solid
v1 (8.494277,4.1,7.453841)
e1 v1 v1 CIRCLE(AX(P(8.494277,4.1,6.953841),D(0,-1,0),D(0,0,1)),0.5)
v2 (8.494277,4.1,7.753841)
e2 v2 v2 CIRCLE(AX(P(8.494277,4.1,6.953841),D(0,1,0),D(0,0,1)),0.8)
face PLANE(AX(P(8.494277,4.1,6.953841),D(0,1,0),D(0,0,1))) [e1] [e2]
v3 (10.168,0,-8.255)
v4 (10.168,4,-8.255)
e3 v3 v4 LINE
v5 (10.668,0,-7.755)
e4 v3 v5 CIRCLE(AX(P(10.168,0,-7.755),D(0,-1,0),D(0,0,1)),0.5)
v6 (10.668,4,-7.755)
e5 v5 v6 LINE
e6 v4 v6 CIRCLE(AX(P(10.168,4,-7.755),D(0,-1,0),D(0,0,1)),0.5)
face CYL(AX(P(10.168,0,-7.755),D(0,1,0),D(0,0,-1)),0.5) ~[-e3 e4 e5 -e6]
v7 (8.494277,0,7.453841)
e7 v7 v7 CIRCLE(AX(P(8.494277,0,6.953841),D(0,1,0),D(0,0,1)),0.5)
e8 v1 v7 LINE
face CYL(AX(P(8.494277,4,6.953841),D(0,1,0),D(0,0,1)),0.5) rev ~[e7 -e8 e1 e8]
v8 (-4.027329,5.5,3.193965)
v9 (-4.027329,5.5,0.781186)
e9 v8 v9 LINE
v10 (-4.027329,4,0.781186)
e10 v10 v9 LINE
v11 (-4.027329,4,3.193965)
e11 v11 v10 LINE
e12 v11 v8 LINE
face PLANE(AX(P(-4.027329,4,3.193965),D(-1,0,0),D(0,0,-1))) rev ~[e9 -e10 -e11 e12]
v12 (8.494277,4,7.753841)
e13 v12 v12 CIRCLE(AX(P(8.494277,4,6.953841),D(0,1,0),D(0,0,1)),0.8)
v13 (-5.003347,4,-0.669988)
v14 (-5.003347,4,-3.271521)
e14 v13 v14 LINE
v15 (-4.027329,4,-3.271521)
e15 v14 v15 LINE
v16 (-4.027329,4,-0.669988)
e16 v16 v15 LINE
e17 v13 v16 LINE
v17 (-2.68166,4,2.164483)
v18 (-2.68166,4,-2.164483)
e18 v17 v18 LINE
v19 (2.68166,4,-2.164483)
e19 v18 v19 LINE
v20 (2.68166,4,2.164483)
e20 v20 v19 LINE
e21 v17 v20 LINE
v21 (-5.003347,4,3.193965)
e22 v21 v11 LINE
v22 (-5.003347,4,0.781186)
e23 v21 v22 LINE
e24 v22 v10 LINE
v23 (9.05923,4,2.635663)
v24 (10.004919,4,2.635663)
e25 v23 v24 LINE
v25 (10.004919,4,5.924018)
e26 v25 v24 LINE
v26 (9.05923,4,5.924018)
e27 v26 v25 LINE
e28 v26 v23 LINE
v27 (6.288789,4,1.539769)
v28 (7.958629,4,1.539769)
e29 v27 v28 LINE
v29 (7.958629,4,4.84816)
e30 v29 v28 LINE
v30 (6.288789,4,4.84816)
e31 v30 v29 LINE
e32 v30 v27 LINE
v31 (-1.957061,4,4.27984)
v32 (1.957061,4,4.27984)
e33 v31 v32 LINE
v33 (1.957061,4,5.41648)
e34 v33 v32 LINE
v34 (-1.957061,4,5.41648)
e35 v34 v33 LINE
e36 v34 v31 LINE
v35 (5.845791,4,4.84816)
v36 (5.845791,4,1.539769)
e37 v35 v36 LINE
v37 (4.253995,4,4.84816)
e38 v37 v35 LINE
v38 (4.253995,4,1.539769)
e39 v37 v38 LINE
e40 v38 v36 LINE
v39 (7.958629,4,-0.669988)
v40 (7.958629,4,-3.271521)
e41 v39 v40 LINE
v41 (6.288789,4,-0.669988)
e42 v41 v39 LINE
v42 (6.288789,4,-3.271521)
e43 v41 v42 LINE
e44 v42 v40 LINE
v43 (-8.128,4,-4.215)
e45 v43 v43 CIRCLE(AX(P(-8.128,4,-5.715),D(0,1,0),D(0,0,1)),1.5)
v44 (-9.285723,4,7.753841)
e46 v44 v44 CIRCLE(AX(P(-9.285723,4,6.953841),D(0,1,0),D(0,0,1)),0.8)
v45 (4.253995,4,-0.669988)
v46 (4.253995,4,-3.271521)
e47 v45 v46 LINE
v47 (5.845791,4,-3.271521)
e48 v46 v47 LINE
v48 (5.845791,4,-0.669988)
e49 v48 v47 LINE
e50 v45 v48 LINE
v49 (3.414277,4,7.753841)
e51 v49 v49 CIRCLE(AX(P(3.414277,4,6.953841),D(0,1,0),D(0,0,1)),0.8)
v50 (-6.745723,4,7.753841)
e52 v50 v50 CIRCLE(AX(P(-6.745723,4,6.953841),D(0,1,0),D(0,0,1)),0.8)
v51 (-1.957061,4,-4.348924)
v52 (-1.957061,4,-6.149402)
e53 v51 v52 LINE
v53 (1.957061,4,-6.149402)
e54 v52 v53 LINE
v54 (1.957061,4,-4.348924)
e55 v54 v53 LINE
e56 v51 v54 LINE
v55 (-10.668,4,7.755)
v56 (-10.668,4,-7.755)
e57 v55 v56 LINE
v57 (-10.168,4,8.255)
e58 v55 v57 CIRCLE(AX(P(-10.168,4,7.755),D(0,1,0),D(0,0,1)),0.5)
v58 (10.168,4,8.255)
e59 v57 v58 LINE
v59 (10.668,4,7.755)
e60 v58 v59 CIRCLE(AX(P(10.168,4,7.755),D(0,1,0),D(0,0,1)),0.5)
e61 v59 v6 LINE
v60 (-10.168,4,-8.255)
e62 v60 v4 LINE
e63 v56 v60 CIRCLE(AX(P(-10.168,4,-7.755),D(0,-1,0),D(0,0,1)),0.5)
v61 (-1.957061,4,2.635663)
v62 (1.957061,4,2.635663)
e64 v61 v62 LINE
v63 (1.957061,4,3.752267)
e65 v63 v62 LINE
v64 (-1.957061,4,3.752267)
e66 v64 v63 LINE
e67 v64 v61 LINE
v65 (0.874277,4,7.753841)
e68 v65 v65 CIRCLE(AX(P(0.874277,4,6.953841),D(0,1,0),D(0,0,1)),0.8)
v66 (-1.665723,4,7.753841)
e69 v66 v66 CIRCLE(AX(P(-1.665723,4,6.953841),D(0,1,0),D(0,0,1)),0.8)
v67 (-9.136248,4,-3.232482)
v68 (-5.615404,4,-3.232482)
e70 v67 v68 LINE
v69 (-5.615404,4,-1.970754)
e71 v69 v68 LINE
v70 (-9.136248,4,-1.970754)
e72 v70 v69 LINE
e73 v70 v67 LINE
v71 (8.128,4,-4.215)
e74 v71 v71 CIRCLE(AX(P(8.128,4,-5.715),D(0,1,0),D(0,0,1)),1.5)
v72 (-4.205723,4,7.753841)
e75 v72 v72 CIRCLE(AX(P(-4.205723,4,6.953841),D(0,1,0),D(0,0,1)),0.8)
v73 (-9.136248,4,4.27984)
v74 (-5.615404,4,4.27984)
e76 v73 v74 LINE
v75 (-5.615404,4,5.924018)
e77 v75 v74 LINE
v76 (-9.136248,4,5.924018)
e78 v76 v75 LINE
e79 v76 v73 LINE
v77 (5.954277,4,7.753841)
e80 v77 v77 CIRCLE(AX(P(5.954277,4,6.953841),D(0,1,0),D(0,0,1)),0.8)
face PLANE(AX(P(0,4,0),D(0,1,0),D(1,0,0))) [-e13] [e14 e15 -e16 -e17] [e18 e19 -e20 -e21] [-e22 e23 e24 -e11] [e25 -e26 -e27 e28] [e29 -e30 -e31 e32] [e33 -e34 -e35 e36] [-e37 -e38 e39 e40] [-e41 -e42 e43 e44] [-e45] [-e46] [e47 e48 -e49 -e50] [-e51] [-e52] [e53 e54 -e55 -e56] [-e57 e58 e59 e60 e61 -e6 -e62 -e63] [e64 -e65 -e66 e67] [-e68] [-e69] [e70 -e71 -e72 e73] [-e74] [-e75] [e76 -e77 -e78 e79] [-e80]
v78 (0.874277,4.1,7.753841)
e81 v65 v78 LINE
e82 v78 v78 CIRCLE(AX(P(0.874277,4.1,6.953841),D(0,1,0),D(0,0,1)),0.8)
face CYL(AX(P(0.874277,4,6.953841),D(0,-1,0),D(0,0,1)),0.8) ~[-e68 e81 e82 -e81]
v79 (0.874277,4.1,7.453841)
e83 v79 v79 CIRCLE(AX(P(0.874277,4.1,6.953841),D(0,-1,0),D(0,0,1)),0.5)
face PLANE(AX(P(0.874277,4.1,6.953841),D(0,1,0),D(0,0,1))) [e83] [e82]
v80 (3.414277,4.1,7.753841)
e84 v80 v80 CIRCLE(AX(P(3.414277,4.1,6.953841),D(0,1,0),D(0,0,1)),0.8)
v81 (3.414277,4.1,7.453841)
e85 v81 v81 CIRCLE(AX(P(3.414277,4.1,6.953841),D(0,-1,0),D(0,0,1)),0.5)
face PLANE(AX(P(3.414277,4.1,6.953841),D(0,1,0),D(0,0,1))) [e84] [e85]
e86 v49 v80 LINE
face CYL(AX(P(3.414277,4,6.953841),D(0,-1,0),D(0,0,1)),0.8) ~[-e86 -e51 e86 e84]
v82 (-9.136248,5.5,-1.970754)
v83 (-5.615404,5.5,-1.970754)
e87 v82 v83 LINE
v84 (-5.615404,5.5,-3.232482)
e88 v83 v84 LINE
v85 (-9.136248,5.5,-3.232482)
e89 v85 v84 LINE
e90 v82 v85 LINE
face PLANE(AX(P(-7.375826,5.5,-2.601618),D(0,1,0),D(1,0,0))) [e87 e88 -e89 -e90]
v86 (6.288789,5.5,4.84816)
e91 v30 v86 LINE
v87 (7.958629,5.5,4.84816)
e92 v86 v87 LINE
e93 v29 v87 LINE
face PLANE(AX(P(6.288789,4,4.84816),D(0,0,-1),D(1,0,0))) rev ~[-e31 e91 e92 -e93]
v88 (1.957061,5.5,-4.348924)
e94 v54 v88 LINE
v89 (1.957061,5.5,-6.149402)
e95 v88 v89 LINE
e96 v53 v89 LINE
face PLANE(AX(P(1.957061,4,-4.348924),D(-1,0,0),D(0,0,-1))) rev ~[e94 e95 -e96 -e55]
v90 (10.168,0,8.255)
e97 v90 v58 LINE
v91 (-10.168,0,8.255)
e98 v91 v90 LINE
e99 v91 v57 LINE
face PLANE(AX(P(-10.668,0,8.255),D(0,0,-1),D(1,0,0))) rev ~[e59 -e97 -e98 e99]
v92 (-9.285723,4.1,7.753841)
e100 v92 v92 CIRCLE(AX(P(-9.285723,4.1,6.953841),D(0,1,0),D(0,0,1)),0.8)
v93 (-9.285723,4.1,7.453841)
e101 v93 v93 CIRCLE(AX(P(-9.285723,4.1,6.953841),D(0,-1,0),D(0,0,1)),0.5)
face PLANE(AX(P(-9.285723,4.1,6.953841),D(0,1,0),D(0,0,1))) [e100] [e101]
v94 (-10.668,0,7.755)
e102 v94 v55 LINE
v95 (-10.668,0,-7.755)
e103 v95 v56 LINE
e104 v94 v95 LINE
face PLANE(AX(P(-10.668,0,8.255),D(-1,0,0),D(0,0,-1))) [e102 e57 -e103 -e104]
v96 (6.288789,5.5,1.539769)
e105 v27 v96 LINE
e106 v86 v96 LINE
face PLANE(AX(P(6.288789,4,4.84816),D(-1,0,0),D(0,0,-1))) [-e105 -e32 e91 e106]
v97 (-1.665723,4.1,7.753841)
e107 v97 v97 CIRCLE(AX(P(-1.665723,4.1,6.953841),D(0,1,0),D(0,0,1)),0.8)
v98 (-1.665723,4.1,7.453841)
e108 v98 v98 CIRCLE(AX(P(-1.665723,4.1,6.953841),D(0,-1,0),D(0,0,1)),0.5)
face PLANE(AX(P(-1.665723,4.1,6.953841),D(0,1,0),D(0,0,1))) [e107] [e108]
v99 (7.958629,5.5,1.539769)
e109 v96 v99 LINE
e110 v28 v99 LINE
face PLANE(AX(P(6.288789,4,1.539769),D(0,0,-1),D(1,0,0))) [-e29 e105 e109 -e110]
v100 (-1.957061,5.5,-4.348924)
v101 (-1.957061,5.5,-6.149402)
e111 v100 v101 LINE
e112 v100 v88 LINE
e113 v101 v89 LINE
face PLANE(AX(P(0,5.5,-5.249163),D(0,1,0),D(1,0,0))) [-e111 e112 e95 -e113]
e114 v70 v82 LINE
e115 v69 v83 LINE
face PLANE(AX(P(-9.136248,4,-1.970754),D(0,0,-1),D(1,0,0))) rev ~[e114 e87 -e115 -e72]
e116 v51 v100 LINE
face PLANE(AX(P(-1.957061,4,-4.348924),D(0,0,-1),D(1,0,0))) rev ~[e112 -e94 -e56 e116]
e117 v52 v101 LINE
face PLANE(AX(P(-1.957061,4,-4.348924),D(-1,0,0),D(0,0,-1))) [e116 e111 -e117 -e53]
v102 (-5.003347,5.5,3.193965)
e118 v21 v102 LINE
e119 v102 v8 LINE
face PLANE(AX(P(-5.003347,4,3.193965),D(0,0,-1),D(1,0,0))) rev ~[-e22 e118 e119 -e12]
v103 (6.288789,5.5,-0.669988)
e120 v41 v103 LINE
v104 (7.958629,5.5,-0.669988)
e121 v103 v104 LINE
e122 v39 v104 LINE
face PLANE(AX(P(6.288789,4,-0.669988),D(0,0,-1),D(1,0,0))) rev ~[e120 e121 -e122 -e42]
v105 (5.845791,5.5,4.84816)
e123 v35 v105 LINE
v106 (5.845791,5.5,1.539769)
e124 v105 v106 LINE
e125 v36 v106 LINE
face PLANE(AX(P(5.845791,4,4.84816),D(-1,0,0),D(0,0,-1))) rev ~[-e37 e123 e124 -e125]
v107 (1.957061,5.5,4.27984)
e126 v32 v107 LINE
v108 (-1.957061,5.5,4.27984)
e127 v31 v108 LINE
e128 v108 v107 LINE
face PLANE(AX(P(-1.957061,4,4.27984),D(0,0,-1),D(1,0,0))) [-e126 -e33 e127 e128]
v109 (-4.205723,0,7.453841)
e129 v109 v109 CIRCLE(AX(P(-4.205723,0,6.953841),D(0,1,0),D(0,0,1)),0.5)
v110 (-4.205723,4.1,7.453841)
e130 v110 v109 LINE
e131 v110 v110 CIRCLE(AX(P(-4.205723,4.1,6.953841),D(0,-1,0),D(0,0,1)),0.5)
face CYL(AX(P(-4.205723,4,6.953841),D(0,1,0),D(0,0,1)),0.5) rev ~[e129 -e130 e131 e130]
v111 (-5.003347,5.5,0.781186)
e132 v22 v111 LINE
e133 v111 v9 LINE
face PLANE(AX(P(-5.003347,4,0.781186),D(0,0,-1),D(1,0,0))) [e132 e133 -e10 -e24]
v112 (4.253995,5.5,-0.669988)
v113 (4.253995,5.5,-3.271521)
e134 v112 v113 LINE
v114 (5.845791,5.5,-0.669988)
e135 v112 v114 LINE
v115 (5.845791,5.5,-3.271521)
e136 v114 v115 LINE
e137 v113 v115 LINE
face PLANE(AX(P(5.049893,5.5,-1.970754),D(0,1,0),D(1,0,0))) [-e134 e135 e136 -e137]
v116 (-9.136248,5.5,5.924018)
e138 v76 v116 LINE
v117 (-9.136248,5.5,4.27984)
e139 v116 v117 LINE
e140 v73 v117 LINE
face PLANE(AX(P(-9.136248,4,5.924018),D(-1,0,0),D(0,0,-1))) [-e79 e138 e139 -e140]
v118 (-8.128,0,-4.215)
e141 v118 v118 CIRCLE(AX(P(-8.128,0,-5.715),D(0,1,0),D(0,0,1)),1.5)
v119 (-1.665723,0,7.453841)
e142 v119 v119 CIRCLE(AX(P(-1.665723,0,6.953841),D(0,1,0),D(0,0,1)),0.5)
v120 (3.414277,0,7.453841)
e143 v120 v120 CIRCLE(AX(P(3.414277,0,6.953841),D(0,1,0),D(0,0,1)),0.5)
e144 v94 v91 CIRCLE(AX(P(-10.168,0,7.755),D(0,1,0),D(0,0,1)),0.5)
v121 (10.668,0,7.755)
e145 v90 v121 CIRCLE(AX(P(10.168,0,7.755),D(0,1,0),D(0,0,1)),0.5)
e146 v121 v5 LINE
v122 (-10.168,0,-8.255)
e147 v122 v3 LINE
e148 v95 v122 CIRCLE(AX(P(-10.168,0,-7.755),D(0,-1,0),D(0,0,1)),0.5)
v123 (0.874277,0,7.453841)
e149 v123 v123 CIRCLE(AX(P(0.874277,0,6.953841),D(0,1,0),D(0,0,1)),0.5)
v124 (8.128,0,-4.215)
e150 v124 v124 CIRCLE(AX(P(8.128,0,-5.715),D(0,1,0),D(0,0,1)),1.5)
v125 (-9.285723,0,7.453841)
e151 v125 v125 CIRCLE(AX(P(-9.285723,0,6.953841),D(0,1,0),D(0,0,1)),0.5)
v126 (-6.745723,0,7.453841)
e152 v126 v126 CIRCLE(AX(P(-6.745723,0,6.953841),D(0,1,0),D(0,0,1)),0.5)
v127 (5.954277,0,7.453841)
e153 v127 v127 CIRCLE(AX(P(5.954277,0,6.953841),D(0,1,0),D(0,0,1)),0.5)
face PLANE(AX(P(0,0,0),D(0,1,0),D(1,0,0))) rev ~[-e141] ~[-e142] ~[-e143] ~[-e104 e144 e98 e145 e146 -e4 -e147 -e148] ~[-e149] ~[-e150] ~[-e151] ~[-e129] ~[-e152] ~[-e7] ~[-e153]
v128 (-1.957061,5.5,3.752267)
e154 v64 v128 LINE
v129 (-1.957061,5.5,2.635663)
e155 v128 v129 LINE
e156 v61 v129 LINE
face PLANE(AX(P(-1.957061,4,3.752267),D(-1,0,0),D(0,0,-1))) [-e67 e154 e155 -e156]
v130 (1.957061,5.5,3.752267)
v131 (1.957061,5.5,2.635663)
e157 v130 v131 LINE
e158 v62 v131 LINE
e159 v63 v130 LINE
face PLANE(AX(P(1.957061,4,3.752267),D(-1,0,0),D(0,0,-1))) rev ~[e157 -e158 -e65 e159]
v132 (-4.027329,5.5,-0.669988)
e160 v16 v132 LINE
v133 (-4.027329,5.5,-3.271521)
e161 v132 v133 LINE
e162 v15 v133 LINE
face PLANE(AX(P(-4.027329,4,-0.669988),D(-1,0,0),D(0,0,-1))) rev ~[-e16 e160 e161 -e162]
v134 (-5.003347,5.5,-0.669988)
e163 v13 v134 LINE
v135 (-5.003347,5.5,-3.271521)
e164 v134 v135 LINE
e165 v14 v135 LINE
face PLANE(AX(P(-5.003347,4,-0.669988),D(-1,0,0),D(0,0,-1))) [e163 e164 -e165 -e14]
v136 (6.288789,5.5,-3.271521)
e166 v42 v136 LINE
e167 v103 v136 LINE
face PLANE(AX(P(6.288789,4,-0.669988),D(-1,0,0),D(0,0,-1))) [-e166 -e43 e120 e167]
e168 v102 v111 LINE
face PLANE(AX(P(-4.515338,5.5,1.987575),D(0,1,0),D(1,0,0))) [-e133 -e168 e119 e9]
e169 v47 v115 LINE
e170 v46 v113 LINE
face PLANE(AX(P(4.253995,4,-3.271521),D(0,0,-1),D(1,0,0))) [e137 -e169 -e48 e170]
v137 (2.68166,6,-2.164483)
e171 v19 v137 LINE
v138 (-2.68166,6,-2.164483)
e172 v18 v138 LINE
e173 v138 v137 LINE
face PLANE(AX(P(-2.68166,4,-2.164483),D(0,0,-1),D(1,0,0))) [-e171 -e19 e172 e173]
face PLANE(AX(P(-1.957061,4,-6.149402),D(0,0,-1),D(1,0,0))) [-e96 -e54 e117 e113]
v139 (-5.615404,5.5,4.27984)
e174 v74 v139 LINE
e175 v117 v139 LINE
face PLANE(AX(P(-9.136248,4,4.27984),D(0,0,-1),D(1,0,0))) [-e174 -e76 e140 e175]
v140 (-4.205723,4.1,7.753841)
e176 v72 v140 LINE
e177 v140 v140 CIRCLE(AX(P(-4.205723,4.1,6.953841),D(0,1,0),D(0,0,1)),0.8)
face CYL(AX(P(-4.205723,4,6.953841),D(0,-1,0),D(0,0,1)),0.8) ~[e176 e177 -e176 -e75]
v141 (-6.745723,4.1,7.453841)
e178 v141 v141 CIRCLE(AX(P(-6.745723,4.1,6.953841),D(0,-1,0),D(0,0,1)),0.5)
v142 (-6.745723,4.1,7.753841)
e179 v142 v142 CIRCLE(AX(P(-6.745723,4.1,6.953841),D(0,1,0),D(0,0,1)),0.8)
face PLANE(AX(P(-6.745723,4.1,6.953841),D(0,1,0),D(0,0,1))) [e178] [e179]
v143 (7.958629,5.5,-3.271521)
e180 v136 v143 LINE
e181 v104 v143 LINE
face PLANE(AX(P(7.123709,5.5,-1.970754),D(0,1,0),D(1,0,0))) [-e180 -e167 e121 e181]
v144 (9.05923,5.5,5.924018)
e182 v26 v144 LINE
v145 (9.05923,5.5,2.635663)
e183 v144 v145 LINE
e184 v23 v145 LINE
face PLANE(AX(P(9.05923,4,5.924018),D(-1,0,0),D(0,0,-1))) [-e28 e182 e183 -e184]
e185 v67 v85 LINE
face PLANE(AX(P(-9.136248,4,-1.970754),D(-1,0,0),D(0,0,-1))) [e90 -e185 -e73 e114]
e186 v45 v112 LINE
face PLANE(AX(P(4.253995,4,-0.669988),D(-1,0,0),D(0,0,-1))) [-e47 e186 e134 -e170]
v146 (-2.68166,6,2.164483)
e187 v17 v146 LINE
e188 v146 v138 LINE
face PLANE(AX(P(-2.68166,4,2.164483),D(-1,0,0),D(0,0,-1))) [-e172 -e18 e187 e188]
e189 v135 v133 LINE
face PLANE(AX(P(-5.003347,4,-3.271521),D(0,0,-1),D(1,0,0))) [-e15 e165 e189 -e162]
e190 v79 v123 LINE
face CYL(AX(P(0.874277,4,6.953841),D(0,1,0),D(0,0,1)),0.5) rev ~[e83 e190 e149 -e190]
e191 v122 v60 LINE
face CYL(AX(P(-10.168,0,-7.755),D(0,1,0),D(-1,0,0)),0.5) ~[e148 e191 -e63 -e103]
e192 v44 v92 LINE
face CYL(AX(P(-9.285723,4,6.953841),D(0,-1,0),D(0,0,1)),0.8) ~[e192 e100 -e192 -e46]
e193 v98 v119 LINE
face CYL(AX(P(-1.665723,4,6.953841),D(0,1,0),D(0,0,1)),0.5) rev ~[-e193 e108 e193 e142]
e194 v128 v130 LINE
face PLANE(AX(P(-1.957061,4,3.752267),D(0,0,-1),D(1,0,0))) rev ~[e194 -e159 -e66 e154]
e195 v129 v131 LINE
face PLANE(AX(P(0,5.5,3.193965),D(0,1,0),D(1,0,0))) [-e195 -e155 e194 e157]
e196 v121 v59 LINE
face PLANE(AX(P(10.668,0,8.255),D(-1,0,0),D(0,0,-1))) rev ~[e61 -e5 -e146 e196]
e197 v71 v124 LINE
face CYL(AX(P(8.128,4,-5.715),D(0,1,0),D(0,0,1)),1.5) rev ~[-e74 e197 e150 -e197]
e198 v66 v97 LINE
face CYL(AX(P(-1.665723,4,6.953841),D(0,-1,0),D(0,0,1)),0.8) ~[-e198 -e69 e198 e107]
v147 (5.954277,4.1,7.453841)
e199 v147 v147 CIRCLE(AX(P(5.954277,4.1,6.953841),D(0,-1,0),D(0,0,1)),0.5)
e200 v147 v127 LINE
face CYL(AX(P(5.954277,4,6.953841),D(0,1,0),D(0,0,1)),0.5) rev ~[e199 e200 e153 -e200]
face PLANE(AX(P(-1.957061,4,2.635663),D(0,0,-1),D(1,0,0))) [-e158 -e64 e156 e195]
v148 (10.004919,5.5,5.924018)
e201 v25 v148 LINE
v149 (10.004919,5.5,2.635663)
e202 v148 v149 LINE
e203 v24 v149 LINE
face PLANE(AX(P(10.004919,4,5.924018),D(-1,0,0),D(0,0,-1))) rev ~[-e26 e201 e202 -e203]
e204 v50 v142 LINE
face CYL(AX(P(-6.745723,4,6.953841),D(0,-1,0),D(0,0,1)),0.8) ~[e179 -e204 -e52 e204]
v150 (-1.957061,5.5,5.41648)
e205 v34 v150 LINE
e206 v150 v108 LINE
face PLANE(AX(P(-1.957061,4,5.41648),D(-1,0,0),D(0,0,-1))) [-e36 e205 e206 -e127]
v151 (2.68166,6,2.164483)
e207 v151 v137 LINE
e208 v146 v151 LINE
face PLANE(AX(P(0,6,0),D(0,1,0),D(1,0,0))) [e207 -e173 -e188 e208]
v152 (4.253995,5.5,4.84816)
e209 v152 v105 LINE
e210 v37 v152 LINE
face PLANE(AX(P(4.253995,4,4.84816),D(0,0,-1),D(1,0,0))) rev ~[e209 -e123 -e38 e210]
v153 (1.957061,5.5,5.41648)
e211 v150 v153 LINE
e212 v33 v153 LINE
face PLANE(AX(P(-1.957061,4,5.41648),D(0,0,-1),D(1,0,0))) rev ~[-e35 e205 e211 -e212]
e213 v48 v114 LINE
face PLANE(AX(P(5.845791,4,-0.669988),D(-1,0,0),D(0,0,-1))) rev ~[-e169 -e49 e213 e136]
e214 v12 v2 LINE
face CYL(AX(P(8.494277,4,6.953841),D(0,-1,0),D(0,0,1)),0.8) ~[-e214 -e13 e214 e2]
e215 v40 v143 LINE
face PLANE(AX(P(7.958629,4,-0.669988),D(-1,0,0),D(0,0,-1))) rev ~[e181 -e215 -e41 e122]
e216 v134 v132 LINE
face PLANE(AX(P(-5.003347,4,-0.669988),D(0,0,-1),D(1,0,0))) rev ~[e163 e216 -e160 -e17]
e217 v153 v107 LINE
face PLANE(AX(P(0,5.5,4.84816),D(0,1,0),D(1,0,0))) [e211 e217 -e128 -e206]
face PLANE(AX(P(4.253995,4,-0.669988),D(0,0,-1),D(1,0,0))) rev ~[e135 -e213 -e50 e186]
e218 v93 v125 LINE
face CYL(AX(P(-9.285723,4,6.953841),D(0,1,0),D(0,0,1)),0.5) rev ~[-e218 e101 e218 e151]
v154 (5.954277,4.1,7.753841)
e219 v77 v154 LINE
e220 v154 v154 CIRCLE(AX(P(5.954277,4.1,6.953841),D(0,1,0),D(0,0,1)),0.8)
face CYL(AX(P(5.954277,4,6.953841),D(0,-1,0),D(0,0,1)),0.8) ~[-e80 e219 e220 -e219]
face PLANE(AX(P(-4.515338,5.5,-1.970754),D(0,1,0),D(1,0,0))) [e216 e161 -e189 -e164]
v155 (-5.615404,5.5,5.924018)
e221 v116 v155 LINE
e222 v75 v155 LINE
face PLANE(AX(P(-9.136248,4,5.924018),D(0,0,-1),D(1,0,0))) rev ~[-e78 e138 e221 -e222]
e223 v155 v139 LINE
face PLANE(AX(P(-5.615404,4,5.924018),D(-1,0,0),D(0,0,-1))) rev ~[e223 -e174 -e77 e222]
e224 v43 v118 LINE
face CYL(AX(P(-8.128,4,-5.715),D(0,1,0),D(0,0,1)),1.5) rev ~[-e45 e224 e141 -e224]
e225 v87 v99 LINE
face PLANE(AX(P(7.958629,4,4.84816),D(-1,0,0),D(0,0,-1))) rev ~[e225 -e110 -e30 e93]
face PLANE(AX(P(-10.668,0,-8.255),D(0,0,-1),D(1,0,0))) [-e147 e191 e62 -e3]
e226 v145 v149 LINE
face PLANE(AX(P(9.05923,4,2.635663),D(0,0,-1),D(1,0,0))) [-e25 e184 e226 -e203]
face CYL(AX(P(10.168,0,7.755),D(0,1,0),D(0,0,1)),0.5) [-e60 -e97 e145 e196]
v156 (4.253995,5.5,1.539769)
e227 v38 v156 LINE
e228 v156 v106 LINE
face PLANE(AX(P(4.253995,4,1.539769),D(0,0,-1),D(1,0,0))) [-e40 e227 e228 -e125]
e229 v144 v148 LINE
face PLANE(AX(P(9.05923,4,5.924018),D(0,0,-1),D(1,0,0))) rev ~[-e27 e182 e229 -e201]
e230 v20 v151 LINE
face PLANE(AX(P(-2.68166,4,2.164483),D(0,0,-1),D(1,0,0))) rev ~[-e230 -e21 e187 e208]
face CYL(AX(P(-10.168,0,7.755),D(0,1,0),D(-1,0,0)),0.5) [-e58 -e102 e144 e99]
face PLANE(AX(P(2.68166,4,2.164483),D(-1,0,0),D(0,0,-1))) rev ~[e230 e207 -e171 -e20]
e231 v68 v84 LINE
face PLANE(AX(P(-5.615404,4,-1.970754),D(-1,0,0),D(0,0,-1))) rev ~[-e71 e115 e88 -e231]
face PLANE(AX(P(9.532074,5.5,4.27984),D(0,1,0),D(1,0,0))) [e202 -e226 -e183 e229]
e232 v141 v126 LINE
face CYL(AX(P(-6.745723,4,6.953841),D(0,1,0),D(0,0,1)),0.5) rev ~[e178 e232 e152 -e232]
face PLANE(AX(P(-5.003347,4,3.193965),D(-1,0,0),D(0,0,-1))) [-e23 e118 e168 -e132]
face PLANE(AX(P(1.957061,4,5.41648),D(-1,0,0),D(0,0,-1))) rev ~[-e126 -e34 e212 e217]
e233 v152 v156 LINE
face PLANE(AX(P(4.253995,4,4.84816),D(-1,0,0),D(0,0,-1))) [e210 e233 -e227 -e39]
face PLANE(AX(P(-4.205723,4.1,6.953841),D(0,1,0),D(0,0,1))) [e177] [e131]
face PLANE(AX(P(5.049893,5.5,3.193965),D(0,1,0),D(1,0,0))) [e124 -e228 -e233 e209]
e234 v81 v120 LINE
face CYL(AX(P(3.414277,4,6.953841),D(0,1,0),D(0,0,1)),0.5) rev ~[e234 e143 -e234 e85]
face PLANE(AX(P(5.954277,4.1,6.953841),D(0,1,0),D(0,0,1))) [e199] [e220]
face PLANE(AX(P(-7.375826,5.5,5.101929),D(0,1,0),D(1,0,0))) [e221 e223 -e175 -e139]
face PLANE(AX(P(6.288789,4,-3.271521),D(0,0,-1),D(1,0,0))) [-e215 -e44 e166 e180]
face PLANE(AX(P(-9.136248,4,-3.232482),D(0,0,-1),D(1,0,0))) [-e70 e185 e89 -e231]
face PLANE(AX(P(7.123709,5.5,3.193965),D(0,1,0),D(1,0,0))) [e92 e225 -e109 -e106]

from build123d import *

# Parameters (mm, degrees)
ESBO_O3_W                         = 21.336
ESBO_O3_H                         = 16.51
RESSALTO_EXTRUS_O2_DEPTH          = 4
ESBO_O4_R                         = 1.5
CORTE_EXTRUS_O1_DEPTH             = 4
FILETE1_R                         = 0.5
FILETE2_R                         = 0.5
FILETE3_R                         = 0.5
FILETE4_R                         = 0.5
ESBO_O6_W                         = 5.363320094
ESBO_O6_H                         = 4.328965504
RESSALTO_EXTRUS_O3_DEPTH          = 2
ESBO_O7_W                         = 3.520843833
ESBO_O7_H                         = 1.644177383
ESBO_O7_H_2                       = 1.26172738
ESBO_O7_W_2                       = 3.914121278
ESBO_O7_H_3                       = 1.80047819
ESBO_O7_W_3                       = 1.591796621
ESBO_O7_H_4                       = 2.601533146
ESBO_O7_W_4                       = 1.669839356
ESBO_O7_H_5                       = 3.308391078
ESBO_O7_W_5                       = 0.945688299
ESBO_O7_H_6                       = 3.288354766
ESBO_O7_W_6                       = 0.976018527
ESBO_O7_H_7                       = 2.412779016
ESBO_O7_H_8                       = 1.116603467
ESBO_O7_H_9                       = 1.136639779
RESSALTO_EXTRUS_O4_DEPTH          = 1.5
ESBO_O8_R                         = 0.8
RESSALTO_EXTRUS_O5_DEPTH          = 0.1
CORTE_EXTRUS_O2_REACH             = 16.07
ESBO_O9_R                         = 0.5
CORTE_EXTRUS_O2_DIRECTION_2_REACH = 16.07


with BuildPart() as part:
    # Esboço3 → Ressalto-extrusão2 (new body)
    with BuildSketch(Plane(origin=(0, 0, 0), x_dir=(1, 0, 0), z_dir=(0, 1, 0))):
        Rectangle(ESBO_O3_W, ESBO_O3_H)
    extrude(amount=RESSALTO_EXTRUS_O2_DEPTH)

    # Esboço4 → Corte-extrusão1 (cut)
    with BuildSketch(Plane(origin=(0, 4, 0), x_dir=(1, 0, 0), z_dir=(0, 1, 0))):
        with Locations(Location((-8.128, 5.715, 0), (0, 0, 270))):
            Circle(ESBO_O4_R)
        with Locations(Location((8.128, 5.715, 0), (0, 0, 270))):
            Circle(ESBO_O4_R)
    extrude(amount=-CORTE_EXTRUS_O1_DEPTH, mode=Mode.SUBTRACT)

    # Filete1
    filete1_edges = [part.edges().sort_by_distance(p)[0] for p in [
        (-10.668, 2, -8.255),
    ]]
    fillet(filete1_edges, radius=FILETE1_R)

    # Filete2
    filete2_edges = [part.edges().sort_by_distance(p)[0] for p in [
        (10.668, 2, -8.255),
    ]]
    fillet(filete2_edges, radius=FILETE2_R)

    # Filete3
    filete3_edges = [part.edges().sort_by_distance(p)[0] for p in [
        (-10.668, 2, 8.255),
    ]]
    fillet(filete3_edges, radius=FILETE3_R)

    # Filete4
    filete4_edges = [part.edges().sort_by_distance(p)[0] for p in [
        (10.668, 2, 8.255),
    ]]
    fillet(filete4_edges, radius=FILETE4_R)

    # Esboço6 → Ressalto-extrusão3 (add)
    with BuildSketch(Plane(origin=(0, 4, 0), x_dir=(1, 0, 0), z_dir=(0, 1, 0))):
        Rectangle(ESBO_O6_W, ESBO_O6_H)
    extrude(amount=RESSALTO_EXTRUS_O3_DEPTH)

    # Esboço7 → Ressalto-extrusão4 (add)
    with BuildSketch(Plane(origin=(0, 4, 0), x_dir=(1, 0, 0), z_dir=(0, 1, 0))):
        with Locations((-7.375825986, -5.101929154)):
            Rectangle(ESBO_O7_W, ESBO_O7_H)
        with Locations((-7.375825986, 2.601618051)):
            Rectangle(ESBO_O7_W, ESBO_O7_H_2)
        with Locations((0, 5.249162988)):
            Rectangle(ESBO_O7_W_2, ESBO_O7_H_3)
        with Locations((5.049892828, 1.970754361)):
            Rectangle(ESBO_O7_W_3, ESBO_O7_H_4)
        with Locations((7.123709081, 1.970754361)):
            Rectangle(ESBO_O7_W_4, ESBO_O7_H_4)
        with Locations((5.049892828, -3.193964812)):
            Rectangle(ESBO_O7_W_3, ESBO_O7_H_5)
        with Locations((7.123709081, -3.193964812)):
            Rectangle(ESBO_O7_W_4, ESBO_O7_H_5)
        with Locations((9.532074416, -4.279840462)):
            Rectangle(ESBO_O7_W_5, ESBO_O7_H_6)
        with Locations((-4.515338041, 1.970754361)):
            Rectangle(ESBO_O7_W_6, ESBO_O7_H_4)
        with Locations((-4.515338041, -1.987575304)):
            Rectangle(ESBO_O7_W_6, ESBO_O7_H_7)
        with Locations((0, -3.193964812)):
            Rectangle(ESBO_O7_W_2, ESBO_O7_H_8)
        with Locations((0, -4.848160352)):
            Rectangle(ESBO_O7_W_2, ESBO_O7_H_9)
    extrude(amount=RESSALTO_EXTRUS_O4_DEPTH)

    # Esboço8 → Ressalto-extrusão5 (add)
    with BuildSketch(Plane(origin=(0, 4, 0), x_dir=(1, 0, 0), z_dir=(0, 1, 0))):
        with Locations(Location((-9.285722554, -6.953840931, 0), (0, 0, 270))):
            Circle(ESBO_O8_R)
        with Locations(Location((-6.745722554, -6.953840931, 0), (0, 0, 270))):
            Circle(ESBO_O8_R)
        with Locations(Location((-4.205722554, -6.953840931, 0), (0, 0, 270))):
            Circle(ESBO_O8_R)
        with Locations(Location((-1.665722554, -6.953840931, 0), (0, 0, 270))):
            Circle(ESBO_O8_R)
        with Locations(Location((0.874277446, -6.953840931, 0), (0, 0, 270))):
            Circle(ESBO_O8_R)
        with Locations(Location((3.414277446, -6.953840931, 0), (0, 0, 270))):
            Circle(ESBO_O8_R)
        with Locations(Location((5.954277446, -6.953840931, 0), (0, 0, 270))):
            Circle(ESBO_O8_R)
        with Locations(Location((8.494277446, -6.953840931, 0), (0, 0, 270))):
            Circle(ESBO_O8_R)
    extrude(amount=RESSALTO_EXTRUS_O5_DEPTH)

    # Esboço9 → Corte-extrusão2 (cut, up to next)
    with BuildSketch(Plane(origin=(0, 4, 0), x_dir=(1, 0, 0), z_dir=(0, 1, 0)), mode=Mode.PRIVATE) as corte_extrus_o2_sk1:
        with Locations(Location((-9.285722554, -6.953840931, 0), (0, 0, 270))):
            Circle(ESBO_O9_R)
    corte_extrus_o2_tool1 = extrude(corte_extrus_o2_sk1.sketch, amount=-CORTE_EXTRUS_O2_REACH, mode=Mode.PRIVATE) & part.part
    # Esboço9 → Corte-extrusão2 (cut, up to next)
    with BuildSketch(Plane(origin=(0, 4, 0), x_dir=(1, 0, 0), z_dir=(0, 1, 0)), mode=Mode.PRIVATE) as corte_extrus_o2_sk2:
        with Locations(Location((-6.745722554, -6.953840931, 0), (0, 0, 270))):
            Circle(ESBO_O9_R)
    corte_extrus_o2_tool2 = extrude(corte_extrus_o2_sk2.sketch, amount=-CORTE_EXTRUS_O2_REACH, mode=Mode.PRIVATE) & part.part
    # Esboço9 → Corte-extrusão2 (cut, up to next)
    with BuildSketch(Plane(origin=(0, 4, 0), x_dir=(1, 0, 0), z_dir=(0, 1, 0)), mode=Mode.PRIVATE) as corte_extrus_o2_sk3:
        with Locations(Location((-4.205722554, -6.953840931, 0), (0, 0, 270))):
            Circle(ESBO_O9_R)
    corte_extrus_o2_tool3 = extrude(corte_extrus_o2_sk3.sketch, amount=-CORTE_EXTRUS_O2_REACH, mode=Mode.PRIVATE) & part.part
    # Esboço9 → Corte-extrusão2 (cut, up to next)
    with BuildSketch(Plane(origin=(0, 4, 0), x_dir=(1, 0, 0), z_dir=(0, 1, 0)), mode=Mode.PRIVATE) as corte_extrus_o2_sk4:
        with Locations(Location((-1.665722554, -6.953840931, 0), (0, 0, 270))):
            Circle(ESBO_O9_R)
    corte_extrus_o2_tool4 = extrude(corte_extrus_o2_sk4.sketch, amount=-CORTE_EXTRUS_O2_REACH, mode=Mode.PRIVATE) & part.part
    # Esboço9 → Corte-extrusão2 (cut, up to next)
    with BuildSketch(Plane(origin=(0, 4, 0), x_dir=(1, 0, 0), z_dir=(0, 1, 0)), mode=Mode.PRIVATE) as corte_extrus_o2_sk5:
        with Locations(Location((0.874277446, -6.953840931, 0), (0, 0, 270))):
            Circle(ESBO_O9_R)
    corte_extrus_o2_tool5 = extrude(corte_extrus_o2_sk5.sketch, amount=-CORTE_EXTRUS_O2_REACH, mode=Mode.PRIVATE) & part.part
    # Esboço9 → Corte-extrusão2 (cut, up to next)
    with BuildSketch(Plane(origin=(0, 4, 0), x_dir=(1, 0, 0), z_dir=(0, 1, 0)), mode=Mode.PRIVATE) as corte_extrus_o2_sk6:
        with Locations(Location((3.414277446, -6.953840931, 0), (0, 0, 270))):
            Circle(ESBO_O9_R)
    corte_extrus_o2_tool6 = extrude(corte_extrus_o2_sk6.sketch, amount=-CORTE_EXTRUS_O2_REACH, mode=Mode.PRIVATE) & part.part
    # Esboço9 → Corte-extrusão2 (cut, up to next)
    with BuildSketch(Plane(origin=(0, 4, 0), x_dir=(1, 0, 0), z_dir=(0, 1, 0)), mode=Mode.PRIVATE) as corte_extrus_o2_sk7:
        with Locations(Location((5.954277446, -6.953840931, 0), (0, 0, 270))):
            Circle(ESBO_O9_R)
    corte_extrus_o2_tool7 = extrude(corte_extrus_o2_sk7.sketch, amount=-CORTE_EXTRUS_O2_REACH, mode=Mode.PRIVATE) & part.part
    # Esboço9 → Corte-extrusão2 (cut, up to next)
    with BuildSketch(Plane(origin=(0, 4, 0), x_dir=(1, 0, 0), z_dir=(0, 1, 0)), mode=Mode.PRIVATE) as corte_extrus_o2_sk8:
        with Locations(Location((8.494277446, -6.953840931, 0), (0, 0, 270))):
            Circle(ESBO_O9_R)
    corte_extrus_o2_tool8 = extrude(corte_extrus_o2_sk8.sketch, amount=-CORTE_EXTRUS_O2_REACH, mode=Mode.PRIVATE) & part.part
    add(corte_extrus_o2_tool1.solids().sort_by_distance((-9.285723, 4, 6.953841))[0], mode=Mode.SUBTRACT)
    add(corte_extrus_o2_tool2.solids().sort_by_distance((-6.745723, 4, 6.953841))[0], mode=Mode.SUBTRACT)
    add(corte_extrus_o2_tool3.solids().sort_by_distance((-4.205723, 4, 6.953841))[0], mode=Mode.SUBTRACT)
    add(corte_extrus_o2_tool4.solids().sort_by_distance((-1.665723, 4, 6.953841))[0], mode=Mode.SUBTRACT)
    add(corte_extrus_o2_tool5.solids().sort_by_distance((0.874277, 4, 6.953841))[0], mode=Mode.SUBTRACT)
    add(corte_extrus_o2_tool6.solids().sort_by_distance((3.414277, 4, 6.953841))[0], mode=Mode.SUBTRACT)
    add(corte_extrus_o2_tool7.solids().sort_by_distance((5.954277, 4, 6.953841))[0], mode=Mode.SUBTRACT)
    add(corte_extrus_o2_tool8.solids().sort_by_distance((8.494277, 4, 6.953841))[0], mode=Mode.SUBTRACT)

    # Esboço9 → Corte-extrusão2 direction 2 (cut, up to next)
    with BuildSketch(Plane(origin=(0, 4, 0), x_dir=(1, 0, 0), z_dir=(0, 1, 0)), mode=Mode.PRIVATE) as corte_extrus_o2_direction_2_sk1:
        with Locations(Location((-9.285722554, -6.953840931, 0), (0, 0, 270))):
            Circle(ESBO_O9_R)
    corte_extrus_o2_direction_2_tool1 = extrude(corte_extrus_o2_direction_2_sk1.sketch, amount=CORTE_EXTRUS_O2_DIRECTION_2_REACH, mode=Mode.PRIVATE) & part.part
    # Esboço9 → Corte-extrusão2 direction 2 (cut, up to next)
    with BuildSketch(Plane(origin=(0, 4, 0), x_dir=(1, 0, 0), z_dir=(0, 1, 0)), mode=Mode.PRIVATE) as corte_extrus_o2_direction_2_sk2:
        with Locations(Location((-6.745722554, -6.953840931, 0), (0, 0, 270))):
            Circle(ESBO_O9_R)
    corte_extrus_o2_direction_2_tool2 = extrude(corte_extrus_o2_direction_2_sk2.sketch, amount=CORTE_EXTRUS_O2_DIRECTION_2_REACH, mode=Mode.PRIVATE) & part.part
    # Esboço9 → Corte-extrusão2 direction 2 (cut, up to next)
    with BuildSketch(Plane(origin=(0, 4, 0), x_dir=(1, 0, 0), z_dir=(0, 1, 0)), mode=Mode.PRIVATE) as corte_extrus_o2_direction_2_sk3:
        with Locations(Location((-4.205722554, -6.953840931, 0), (0, 0, 270))):
            Circle(ESBO_O9_R)
    corte_extrus_o2_direction_2_tool3 = extrude(corte_extrus_o2_direction_2_sk3.sketch, amount=CORTE_EXTRUS_O2_DIRECTION_2_REACH, mode=Mode.PRIVATE) & part.part
    # Esboço9 → Corte-extrusão2 direction 2 (cut, up to next)
    with BuildSketch(Plane(origin=(0, 4, 0), x_dir=(1, 0, 0), z_dir=(0, 1, 0)), mode=Mode.PRIVATE) as corte_extrus_o2_direction_2_sk4:
        with Locations(Location((-1.665722554, -6.953840931, 0), (0, 0, 270))):
            Circle(ESBO_O9_R)
    corte_extrus_o2_direction_2_tool4 = extrude(corte_extrus_o2_direction_2_sk4.sketch, amount=CORTE_EXTRUS_O2_DIRECTION_2_REACH, mode=Mode.PRIVATE) & part.part
    # Esboço9 → Corte-extrusão2 direction 2 (cut, up to next)
    with BuildSketch(Plane(origin=(0, 4, 0), x_dir=(1, 0, 0), z_dir=(0, 1, 0)), mode=Mode.PRIVATE) as corte_extrus_o2_direction_2_sk5:
        with Locations(Location((0.874277446, -6.953840931, 0), (0, 0, 270))):
            Circle(ESBO_O9_R)
    corte_extrus_o2_direction_2_tool5 = extrude(corte_extrus_o2_direction_2_sk5.sketch, amount=CORTE_EXTRUS_O2_DIRECTION_2_REACH, mode=Mode.PRIVATE) & part.part
    # Esboço9 → Corte-extrusão2 direction 2 (cut, up to next)
    with BuildSketch(Plane(origin=(0, 4, 0), x_dir=(1, 0, 0), z_dir=(0, 1, 0)), mode=Mode.PRIVATE) as corte_extrus_o2_direction_2_sk6:
        with Locations(Location((3.414277446, -6.953840931, 0), (0, 0, 270))):
            Circle(ESBO_O9_R)
    corte_extrus_o2_direction_2_tool6 = extrude(corte_extrus_o2_direction_2_sk6.sketch, amount=CORTE_EXTRUS_O2_DIRECTION_2_REACH, mode=Mode.PRIVATE) & part.part
    # Esboço9 → Corte-extrusão2 direction 2 (cut, up to next)
    with BuildSketch(Plane(origin=(0, 4, 0), x_dir=(1, 0, 0), z_dir=(0, 1, 0)), mode=Mode.PRIVATE) as corte_extrus_o2_direction_2_sk7:
        with Locations(Location((5.954277446, -6.953840931, 0), (0, 0, 270))):
            Circle(ESBO_O9_R)
    corte_extrus_o2_direction_2_tool7 = extrude(corte_extrus_o2_direction_2_sk7.sketch, amount=CORTE_EXTRUS_O2_DIRECTION_2_REACH, mode=Mode.PRIVATE) & part.part
    # Esboço9 → Corte-extrusão2 direction 2 (cut, up to next)
    with BuildSketch(Plane(origin=(0, 4, 0), x_dir=(1, 0, 0), z_dir=(0, 1, 0)), mode=Mode.PRIVATE) as corte_extrus_o2_direction_2_sk8:
        with Locations(Location((8.494277446, -6.953840931, 0), (0, 0, 270))):
            Circle(ESBO_O9_R)
    corte_extrus_o2_direction_2_tool8 = extrude(corte_extrus_o2_direction_2_sk8.sketch, amount=CORTE_EXTRUS_O2_DIRECTION_2_REACH, mode=Mode.PRIVATE) & part.part
    add(corte_extrus_o2_direction_2_tool1.solids().sort_by_distance((-9.285723, 4, 6.953841))[0], mode=Mode.SUBTRACT)
    add(corte_extrus_o2_direction_2_tool2.solids().sort_by_distance((-6.745723, 4, 6.953841))[0], mode=Mode.SUBTRACT)
    add(corte_extrus_o2_direction_2_tool3.solids().sort_by_distance((-4.205723, 4, 6.953841))[0], mode=Mode.SUBTRACT)
    add(corte_extrus_o2_direction_2_tool4.solids().sort_by_distance((-1.665723, 4, 6.953841))[0], mode=Mode.SUBTRACT)
    add(corte_extrus_o2_direction_2_tool5.solids().sort_by_distance((0.874277, 4, 6.953841))[0], mode=Mode.SUBTRACT)
    add(corte_extrus_o2_direction_2_tool6.solids().sort_by_distance((3.414277, 4, 6.953841))[0], mode=Mode.SUBTRACT)
    add(corte_extrus_o2_direction_2_tool7.solids().sort_by_distance((5.954277, 4, 6.953841))[0], mode=Mode.SUBTRACT)
    add(corte_extrus_o2_direction_2_tool8.solids().sort_by_distance((8.494277, 4, 6.953841))[0], mode=Mode.SUBTRACT)


solid = part.part
